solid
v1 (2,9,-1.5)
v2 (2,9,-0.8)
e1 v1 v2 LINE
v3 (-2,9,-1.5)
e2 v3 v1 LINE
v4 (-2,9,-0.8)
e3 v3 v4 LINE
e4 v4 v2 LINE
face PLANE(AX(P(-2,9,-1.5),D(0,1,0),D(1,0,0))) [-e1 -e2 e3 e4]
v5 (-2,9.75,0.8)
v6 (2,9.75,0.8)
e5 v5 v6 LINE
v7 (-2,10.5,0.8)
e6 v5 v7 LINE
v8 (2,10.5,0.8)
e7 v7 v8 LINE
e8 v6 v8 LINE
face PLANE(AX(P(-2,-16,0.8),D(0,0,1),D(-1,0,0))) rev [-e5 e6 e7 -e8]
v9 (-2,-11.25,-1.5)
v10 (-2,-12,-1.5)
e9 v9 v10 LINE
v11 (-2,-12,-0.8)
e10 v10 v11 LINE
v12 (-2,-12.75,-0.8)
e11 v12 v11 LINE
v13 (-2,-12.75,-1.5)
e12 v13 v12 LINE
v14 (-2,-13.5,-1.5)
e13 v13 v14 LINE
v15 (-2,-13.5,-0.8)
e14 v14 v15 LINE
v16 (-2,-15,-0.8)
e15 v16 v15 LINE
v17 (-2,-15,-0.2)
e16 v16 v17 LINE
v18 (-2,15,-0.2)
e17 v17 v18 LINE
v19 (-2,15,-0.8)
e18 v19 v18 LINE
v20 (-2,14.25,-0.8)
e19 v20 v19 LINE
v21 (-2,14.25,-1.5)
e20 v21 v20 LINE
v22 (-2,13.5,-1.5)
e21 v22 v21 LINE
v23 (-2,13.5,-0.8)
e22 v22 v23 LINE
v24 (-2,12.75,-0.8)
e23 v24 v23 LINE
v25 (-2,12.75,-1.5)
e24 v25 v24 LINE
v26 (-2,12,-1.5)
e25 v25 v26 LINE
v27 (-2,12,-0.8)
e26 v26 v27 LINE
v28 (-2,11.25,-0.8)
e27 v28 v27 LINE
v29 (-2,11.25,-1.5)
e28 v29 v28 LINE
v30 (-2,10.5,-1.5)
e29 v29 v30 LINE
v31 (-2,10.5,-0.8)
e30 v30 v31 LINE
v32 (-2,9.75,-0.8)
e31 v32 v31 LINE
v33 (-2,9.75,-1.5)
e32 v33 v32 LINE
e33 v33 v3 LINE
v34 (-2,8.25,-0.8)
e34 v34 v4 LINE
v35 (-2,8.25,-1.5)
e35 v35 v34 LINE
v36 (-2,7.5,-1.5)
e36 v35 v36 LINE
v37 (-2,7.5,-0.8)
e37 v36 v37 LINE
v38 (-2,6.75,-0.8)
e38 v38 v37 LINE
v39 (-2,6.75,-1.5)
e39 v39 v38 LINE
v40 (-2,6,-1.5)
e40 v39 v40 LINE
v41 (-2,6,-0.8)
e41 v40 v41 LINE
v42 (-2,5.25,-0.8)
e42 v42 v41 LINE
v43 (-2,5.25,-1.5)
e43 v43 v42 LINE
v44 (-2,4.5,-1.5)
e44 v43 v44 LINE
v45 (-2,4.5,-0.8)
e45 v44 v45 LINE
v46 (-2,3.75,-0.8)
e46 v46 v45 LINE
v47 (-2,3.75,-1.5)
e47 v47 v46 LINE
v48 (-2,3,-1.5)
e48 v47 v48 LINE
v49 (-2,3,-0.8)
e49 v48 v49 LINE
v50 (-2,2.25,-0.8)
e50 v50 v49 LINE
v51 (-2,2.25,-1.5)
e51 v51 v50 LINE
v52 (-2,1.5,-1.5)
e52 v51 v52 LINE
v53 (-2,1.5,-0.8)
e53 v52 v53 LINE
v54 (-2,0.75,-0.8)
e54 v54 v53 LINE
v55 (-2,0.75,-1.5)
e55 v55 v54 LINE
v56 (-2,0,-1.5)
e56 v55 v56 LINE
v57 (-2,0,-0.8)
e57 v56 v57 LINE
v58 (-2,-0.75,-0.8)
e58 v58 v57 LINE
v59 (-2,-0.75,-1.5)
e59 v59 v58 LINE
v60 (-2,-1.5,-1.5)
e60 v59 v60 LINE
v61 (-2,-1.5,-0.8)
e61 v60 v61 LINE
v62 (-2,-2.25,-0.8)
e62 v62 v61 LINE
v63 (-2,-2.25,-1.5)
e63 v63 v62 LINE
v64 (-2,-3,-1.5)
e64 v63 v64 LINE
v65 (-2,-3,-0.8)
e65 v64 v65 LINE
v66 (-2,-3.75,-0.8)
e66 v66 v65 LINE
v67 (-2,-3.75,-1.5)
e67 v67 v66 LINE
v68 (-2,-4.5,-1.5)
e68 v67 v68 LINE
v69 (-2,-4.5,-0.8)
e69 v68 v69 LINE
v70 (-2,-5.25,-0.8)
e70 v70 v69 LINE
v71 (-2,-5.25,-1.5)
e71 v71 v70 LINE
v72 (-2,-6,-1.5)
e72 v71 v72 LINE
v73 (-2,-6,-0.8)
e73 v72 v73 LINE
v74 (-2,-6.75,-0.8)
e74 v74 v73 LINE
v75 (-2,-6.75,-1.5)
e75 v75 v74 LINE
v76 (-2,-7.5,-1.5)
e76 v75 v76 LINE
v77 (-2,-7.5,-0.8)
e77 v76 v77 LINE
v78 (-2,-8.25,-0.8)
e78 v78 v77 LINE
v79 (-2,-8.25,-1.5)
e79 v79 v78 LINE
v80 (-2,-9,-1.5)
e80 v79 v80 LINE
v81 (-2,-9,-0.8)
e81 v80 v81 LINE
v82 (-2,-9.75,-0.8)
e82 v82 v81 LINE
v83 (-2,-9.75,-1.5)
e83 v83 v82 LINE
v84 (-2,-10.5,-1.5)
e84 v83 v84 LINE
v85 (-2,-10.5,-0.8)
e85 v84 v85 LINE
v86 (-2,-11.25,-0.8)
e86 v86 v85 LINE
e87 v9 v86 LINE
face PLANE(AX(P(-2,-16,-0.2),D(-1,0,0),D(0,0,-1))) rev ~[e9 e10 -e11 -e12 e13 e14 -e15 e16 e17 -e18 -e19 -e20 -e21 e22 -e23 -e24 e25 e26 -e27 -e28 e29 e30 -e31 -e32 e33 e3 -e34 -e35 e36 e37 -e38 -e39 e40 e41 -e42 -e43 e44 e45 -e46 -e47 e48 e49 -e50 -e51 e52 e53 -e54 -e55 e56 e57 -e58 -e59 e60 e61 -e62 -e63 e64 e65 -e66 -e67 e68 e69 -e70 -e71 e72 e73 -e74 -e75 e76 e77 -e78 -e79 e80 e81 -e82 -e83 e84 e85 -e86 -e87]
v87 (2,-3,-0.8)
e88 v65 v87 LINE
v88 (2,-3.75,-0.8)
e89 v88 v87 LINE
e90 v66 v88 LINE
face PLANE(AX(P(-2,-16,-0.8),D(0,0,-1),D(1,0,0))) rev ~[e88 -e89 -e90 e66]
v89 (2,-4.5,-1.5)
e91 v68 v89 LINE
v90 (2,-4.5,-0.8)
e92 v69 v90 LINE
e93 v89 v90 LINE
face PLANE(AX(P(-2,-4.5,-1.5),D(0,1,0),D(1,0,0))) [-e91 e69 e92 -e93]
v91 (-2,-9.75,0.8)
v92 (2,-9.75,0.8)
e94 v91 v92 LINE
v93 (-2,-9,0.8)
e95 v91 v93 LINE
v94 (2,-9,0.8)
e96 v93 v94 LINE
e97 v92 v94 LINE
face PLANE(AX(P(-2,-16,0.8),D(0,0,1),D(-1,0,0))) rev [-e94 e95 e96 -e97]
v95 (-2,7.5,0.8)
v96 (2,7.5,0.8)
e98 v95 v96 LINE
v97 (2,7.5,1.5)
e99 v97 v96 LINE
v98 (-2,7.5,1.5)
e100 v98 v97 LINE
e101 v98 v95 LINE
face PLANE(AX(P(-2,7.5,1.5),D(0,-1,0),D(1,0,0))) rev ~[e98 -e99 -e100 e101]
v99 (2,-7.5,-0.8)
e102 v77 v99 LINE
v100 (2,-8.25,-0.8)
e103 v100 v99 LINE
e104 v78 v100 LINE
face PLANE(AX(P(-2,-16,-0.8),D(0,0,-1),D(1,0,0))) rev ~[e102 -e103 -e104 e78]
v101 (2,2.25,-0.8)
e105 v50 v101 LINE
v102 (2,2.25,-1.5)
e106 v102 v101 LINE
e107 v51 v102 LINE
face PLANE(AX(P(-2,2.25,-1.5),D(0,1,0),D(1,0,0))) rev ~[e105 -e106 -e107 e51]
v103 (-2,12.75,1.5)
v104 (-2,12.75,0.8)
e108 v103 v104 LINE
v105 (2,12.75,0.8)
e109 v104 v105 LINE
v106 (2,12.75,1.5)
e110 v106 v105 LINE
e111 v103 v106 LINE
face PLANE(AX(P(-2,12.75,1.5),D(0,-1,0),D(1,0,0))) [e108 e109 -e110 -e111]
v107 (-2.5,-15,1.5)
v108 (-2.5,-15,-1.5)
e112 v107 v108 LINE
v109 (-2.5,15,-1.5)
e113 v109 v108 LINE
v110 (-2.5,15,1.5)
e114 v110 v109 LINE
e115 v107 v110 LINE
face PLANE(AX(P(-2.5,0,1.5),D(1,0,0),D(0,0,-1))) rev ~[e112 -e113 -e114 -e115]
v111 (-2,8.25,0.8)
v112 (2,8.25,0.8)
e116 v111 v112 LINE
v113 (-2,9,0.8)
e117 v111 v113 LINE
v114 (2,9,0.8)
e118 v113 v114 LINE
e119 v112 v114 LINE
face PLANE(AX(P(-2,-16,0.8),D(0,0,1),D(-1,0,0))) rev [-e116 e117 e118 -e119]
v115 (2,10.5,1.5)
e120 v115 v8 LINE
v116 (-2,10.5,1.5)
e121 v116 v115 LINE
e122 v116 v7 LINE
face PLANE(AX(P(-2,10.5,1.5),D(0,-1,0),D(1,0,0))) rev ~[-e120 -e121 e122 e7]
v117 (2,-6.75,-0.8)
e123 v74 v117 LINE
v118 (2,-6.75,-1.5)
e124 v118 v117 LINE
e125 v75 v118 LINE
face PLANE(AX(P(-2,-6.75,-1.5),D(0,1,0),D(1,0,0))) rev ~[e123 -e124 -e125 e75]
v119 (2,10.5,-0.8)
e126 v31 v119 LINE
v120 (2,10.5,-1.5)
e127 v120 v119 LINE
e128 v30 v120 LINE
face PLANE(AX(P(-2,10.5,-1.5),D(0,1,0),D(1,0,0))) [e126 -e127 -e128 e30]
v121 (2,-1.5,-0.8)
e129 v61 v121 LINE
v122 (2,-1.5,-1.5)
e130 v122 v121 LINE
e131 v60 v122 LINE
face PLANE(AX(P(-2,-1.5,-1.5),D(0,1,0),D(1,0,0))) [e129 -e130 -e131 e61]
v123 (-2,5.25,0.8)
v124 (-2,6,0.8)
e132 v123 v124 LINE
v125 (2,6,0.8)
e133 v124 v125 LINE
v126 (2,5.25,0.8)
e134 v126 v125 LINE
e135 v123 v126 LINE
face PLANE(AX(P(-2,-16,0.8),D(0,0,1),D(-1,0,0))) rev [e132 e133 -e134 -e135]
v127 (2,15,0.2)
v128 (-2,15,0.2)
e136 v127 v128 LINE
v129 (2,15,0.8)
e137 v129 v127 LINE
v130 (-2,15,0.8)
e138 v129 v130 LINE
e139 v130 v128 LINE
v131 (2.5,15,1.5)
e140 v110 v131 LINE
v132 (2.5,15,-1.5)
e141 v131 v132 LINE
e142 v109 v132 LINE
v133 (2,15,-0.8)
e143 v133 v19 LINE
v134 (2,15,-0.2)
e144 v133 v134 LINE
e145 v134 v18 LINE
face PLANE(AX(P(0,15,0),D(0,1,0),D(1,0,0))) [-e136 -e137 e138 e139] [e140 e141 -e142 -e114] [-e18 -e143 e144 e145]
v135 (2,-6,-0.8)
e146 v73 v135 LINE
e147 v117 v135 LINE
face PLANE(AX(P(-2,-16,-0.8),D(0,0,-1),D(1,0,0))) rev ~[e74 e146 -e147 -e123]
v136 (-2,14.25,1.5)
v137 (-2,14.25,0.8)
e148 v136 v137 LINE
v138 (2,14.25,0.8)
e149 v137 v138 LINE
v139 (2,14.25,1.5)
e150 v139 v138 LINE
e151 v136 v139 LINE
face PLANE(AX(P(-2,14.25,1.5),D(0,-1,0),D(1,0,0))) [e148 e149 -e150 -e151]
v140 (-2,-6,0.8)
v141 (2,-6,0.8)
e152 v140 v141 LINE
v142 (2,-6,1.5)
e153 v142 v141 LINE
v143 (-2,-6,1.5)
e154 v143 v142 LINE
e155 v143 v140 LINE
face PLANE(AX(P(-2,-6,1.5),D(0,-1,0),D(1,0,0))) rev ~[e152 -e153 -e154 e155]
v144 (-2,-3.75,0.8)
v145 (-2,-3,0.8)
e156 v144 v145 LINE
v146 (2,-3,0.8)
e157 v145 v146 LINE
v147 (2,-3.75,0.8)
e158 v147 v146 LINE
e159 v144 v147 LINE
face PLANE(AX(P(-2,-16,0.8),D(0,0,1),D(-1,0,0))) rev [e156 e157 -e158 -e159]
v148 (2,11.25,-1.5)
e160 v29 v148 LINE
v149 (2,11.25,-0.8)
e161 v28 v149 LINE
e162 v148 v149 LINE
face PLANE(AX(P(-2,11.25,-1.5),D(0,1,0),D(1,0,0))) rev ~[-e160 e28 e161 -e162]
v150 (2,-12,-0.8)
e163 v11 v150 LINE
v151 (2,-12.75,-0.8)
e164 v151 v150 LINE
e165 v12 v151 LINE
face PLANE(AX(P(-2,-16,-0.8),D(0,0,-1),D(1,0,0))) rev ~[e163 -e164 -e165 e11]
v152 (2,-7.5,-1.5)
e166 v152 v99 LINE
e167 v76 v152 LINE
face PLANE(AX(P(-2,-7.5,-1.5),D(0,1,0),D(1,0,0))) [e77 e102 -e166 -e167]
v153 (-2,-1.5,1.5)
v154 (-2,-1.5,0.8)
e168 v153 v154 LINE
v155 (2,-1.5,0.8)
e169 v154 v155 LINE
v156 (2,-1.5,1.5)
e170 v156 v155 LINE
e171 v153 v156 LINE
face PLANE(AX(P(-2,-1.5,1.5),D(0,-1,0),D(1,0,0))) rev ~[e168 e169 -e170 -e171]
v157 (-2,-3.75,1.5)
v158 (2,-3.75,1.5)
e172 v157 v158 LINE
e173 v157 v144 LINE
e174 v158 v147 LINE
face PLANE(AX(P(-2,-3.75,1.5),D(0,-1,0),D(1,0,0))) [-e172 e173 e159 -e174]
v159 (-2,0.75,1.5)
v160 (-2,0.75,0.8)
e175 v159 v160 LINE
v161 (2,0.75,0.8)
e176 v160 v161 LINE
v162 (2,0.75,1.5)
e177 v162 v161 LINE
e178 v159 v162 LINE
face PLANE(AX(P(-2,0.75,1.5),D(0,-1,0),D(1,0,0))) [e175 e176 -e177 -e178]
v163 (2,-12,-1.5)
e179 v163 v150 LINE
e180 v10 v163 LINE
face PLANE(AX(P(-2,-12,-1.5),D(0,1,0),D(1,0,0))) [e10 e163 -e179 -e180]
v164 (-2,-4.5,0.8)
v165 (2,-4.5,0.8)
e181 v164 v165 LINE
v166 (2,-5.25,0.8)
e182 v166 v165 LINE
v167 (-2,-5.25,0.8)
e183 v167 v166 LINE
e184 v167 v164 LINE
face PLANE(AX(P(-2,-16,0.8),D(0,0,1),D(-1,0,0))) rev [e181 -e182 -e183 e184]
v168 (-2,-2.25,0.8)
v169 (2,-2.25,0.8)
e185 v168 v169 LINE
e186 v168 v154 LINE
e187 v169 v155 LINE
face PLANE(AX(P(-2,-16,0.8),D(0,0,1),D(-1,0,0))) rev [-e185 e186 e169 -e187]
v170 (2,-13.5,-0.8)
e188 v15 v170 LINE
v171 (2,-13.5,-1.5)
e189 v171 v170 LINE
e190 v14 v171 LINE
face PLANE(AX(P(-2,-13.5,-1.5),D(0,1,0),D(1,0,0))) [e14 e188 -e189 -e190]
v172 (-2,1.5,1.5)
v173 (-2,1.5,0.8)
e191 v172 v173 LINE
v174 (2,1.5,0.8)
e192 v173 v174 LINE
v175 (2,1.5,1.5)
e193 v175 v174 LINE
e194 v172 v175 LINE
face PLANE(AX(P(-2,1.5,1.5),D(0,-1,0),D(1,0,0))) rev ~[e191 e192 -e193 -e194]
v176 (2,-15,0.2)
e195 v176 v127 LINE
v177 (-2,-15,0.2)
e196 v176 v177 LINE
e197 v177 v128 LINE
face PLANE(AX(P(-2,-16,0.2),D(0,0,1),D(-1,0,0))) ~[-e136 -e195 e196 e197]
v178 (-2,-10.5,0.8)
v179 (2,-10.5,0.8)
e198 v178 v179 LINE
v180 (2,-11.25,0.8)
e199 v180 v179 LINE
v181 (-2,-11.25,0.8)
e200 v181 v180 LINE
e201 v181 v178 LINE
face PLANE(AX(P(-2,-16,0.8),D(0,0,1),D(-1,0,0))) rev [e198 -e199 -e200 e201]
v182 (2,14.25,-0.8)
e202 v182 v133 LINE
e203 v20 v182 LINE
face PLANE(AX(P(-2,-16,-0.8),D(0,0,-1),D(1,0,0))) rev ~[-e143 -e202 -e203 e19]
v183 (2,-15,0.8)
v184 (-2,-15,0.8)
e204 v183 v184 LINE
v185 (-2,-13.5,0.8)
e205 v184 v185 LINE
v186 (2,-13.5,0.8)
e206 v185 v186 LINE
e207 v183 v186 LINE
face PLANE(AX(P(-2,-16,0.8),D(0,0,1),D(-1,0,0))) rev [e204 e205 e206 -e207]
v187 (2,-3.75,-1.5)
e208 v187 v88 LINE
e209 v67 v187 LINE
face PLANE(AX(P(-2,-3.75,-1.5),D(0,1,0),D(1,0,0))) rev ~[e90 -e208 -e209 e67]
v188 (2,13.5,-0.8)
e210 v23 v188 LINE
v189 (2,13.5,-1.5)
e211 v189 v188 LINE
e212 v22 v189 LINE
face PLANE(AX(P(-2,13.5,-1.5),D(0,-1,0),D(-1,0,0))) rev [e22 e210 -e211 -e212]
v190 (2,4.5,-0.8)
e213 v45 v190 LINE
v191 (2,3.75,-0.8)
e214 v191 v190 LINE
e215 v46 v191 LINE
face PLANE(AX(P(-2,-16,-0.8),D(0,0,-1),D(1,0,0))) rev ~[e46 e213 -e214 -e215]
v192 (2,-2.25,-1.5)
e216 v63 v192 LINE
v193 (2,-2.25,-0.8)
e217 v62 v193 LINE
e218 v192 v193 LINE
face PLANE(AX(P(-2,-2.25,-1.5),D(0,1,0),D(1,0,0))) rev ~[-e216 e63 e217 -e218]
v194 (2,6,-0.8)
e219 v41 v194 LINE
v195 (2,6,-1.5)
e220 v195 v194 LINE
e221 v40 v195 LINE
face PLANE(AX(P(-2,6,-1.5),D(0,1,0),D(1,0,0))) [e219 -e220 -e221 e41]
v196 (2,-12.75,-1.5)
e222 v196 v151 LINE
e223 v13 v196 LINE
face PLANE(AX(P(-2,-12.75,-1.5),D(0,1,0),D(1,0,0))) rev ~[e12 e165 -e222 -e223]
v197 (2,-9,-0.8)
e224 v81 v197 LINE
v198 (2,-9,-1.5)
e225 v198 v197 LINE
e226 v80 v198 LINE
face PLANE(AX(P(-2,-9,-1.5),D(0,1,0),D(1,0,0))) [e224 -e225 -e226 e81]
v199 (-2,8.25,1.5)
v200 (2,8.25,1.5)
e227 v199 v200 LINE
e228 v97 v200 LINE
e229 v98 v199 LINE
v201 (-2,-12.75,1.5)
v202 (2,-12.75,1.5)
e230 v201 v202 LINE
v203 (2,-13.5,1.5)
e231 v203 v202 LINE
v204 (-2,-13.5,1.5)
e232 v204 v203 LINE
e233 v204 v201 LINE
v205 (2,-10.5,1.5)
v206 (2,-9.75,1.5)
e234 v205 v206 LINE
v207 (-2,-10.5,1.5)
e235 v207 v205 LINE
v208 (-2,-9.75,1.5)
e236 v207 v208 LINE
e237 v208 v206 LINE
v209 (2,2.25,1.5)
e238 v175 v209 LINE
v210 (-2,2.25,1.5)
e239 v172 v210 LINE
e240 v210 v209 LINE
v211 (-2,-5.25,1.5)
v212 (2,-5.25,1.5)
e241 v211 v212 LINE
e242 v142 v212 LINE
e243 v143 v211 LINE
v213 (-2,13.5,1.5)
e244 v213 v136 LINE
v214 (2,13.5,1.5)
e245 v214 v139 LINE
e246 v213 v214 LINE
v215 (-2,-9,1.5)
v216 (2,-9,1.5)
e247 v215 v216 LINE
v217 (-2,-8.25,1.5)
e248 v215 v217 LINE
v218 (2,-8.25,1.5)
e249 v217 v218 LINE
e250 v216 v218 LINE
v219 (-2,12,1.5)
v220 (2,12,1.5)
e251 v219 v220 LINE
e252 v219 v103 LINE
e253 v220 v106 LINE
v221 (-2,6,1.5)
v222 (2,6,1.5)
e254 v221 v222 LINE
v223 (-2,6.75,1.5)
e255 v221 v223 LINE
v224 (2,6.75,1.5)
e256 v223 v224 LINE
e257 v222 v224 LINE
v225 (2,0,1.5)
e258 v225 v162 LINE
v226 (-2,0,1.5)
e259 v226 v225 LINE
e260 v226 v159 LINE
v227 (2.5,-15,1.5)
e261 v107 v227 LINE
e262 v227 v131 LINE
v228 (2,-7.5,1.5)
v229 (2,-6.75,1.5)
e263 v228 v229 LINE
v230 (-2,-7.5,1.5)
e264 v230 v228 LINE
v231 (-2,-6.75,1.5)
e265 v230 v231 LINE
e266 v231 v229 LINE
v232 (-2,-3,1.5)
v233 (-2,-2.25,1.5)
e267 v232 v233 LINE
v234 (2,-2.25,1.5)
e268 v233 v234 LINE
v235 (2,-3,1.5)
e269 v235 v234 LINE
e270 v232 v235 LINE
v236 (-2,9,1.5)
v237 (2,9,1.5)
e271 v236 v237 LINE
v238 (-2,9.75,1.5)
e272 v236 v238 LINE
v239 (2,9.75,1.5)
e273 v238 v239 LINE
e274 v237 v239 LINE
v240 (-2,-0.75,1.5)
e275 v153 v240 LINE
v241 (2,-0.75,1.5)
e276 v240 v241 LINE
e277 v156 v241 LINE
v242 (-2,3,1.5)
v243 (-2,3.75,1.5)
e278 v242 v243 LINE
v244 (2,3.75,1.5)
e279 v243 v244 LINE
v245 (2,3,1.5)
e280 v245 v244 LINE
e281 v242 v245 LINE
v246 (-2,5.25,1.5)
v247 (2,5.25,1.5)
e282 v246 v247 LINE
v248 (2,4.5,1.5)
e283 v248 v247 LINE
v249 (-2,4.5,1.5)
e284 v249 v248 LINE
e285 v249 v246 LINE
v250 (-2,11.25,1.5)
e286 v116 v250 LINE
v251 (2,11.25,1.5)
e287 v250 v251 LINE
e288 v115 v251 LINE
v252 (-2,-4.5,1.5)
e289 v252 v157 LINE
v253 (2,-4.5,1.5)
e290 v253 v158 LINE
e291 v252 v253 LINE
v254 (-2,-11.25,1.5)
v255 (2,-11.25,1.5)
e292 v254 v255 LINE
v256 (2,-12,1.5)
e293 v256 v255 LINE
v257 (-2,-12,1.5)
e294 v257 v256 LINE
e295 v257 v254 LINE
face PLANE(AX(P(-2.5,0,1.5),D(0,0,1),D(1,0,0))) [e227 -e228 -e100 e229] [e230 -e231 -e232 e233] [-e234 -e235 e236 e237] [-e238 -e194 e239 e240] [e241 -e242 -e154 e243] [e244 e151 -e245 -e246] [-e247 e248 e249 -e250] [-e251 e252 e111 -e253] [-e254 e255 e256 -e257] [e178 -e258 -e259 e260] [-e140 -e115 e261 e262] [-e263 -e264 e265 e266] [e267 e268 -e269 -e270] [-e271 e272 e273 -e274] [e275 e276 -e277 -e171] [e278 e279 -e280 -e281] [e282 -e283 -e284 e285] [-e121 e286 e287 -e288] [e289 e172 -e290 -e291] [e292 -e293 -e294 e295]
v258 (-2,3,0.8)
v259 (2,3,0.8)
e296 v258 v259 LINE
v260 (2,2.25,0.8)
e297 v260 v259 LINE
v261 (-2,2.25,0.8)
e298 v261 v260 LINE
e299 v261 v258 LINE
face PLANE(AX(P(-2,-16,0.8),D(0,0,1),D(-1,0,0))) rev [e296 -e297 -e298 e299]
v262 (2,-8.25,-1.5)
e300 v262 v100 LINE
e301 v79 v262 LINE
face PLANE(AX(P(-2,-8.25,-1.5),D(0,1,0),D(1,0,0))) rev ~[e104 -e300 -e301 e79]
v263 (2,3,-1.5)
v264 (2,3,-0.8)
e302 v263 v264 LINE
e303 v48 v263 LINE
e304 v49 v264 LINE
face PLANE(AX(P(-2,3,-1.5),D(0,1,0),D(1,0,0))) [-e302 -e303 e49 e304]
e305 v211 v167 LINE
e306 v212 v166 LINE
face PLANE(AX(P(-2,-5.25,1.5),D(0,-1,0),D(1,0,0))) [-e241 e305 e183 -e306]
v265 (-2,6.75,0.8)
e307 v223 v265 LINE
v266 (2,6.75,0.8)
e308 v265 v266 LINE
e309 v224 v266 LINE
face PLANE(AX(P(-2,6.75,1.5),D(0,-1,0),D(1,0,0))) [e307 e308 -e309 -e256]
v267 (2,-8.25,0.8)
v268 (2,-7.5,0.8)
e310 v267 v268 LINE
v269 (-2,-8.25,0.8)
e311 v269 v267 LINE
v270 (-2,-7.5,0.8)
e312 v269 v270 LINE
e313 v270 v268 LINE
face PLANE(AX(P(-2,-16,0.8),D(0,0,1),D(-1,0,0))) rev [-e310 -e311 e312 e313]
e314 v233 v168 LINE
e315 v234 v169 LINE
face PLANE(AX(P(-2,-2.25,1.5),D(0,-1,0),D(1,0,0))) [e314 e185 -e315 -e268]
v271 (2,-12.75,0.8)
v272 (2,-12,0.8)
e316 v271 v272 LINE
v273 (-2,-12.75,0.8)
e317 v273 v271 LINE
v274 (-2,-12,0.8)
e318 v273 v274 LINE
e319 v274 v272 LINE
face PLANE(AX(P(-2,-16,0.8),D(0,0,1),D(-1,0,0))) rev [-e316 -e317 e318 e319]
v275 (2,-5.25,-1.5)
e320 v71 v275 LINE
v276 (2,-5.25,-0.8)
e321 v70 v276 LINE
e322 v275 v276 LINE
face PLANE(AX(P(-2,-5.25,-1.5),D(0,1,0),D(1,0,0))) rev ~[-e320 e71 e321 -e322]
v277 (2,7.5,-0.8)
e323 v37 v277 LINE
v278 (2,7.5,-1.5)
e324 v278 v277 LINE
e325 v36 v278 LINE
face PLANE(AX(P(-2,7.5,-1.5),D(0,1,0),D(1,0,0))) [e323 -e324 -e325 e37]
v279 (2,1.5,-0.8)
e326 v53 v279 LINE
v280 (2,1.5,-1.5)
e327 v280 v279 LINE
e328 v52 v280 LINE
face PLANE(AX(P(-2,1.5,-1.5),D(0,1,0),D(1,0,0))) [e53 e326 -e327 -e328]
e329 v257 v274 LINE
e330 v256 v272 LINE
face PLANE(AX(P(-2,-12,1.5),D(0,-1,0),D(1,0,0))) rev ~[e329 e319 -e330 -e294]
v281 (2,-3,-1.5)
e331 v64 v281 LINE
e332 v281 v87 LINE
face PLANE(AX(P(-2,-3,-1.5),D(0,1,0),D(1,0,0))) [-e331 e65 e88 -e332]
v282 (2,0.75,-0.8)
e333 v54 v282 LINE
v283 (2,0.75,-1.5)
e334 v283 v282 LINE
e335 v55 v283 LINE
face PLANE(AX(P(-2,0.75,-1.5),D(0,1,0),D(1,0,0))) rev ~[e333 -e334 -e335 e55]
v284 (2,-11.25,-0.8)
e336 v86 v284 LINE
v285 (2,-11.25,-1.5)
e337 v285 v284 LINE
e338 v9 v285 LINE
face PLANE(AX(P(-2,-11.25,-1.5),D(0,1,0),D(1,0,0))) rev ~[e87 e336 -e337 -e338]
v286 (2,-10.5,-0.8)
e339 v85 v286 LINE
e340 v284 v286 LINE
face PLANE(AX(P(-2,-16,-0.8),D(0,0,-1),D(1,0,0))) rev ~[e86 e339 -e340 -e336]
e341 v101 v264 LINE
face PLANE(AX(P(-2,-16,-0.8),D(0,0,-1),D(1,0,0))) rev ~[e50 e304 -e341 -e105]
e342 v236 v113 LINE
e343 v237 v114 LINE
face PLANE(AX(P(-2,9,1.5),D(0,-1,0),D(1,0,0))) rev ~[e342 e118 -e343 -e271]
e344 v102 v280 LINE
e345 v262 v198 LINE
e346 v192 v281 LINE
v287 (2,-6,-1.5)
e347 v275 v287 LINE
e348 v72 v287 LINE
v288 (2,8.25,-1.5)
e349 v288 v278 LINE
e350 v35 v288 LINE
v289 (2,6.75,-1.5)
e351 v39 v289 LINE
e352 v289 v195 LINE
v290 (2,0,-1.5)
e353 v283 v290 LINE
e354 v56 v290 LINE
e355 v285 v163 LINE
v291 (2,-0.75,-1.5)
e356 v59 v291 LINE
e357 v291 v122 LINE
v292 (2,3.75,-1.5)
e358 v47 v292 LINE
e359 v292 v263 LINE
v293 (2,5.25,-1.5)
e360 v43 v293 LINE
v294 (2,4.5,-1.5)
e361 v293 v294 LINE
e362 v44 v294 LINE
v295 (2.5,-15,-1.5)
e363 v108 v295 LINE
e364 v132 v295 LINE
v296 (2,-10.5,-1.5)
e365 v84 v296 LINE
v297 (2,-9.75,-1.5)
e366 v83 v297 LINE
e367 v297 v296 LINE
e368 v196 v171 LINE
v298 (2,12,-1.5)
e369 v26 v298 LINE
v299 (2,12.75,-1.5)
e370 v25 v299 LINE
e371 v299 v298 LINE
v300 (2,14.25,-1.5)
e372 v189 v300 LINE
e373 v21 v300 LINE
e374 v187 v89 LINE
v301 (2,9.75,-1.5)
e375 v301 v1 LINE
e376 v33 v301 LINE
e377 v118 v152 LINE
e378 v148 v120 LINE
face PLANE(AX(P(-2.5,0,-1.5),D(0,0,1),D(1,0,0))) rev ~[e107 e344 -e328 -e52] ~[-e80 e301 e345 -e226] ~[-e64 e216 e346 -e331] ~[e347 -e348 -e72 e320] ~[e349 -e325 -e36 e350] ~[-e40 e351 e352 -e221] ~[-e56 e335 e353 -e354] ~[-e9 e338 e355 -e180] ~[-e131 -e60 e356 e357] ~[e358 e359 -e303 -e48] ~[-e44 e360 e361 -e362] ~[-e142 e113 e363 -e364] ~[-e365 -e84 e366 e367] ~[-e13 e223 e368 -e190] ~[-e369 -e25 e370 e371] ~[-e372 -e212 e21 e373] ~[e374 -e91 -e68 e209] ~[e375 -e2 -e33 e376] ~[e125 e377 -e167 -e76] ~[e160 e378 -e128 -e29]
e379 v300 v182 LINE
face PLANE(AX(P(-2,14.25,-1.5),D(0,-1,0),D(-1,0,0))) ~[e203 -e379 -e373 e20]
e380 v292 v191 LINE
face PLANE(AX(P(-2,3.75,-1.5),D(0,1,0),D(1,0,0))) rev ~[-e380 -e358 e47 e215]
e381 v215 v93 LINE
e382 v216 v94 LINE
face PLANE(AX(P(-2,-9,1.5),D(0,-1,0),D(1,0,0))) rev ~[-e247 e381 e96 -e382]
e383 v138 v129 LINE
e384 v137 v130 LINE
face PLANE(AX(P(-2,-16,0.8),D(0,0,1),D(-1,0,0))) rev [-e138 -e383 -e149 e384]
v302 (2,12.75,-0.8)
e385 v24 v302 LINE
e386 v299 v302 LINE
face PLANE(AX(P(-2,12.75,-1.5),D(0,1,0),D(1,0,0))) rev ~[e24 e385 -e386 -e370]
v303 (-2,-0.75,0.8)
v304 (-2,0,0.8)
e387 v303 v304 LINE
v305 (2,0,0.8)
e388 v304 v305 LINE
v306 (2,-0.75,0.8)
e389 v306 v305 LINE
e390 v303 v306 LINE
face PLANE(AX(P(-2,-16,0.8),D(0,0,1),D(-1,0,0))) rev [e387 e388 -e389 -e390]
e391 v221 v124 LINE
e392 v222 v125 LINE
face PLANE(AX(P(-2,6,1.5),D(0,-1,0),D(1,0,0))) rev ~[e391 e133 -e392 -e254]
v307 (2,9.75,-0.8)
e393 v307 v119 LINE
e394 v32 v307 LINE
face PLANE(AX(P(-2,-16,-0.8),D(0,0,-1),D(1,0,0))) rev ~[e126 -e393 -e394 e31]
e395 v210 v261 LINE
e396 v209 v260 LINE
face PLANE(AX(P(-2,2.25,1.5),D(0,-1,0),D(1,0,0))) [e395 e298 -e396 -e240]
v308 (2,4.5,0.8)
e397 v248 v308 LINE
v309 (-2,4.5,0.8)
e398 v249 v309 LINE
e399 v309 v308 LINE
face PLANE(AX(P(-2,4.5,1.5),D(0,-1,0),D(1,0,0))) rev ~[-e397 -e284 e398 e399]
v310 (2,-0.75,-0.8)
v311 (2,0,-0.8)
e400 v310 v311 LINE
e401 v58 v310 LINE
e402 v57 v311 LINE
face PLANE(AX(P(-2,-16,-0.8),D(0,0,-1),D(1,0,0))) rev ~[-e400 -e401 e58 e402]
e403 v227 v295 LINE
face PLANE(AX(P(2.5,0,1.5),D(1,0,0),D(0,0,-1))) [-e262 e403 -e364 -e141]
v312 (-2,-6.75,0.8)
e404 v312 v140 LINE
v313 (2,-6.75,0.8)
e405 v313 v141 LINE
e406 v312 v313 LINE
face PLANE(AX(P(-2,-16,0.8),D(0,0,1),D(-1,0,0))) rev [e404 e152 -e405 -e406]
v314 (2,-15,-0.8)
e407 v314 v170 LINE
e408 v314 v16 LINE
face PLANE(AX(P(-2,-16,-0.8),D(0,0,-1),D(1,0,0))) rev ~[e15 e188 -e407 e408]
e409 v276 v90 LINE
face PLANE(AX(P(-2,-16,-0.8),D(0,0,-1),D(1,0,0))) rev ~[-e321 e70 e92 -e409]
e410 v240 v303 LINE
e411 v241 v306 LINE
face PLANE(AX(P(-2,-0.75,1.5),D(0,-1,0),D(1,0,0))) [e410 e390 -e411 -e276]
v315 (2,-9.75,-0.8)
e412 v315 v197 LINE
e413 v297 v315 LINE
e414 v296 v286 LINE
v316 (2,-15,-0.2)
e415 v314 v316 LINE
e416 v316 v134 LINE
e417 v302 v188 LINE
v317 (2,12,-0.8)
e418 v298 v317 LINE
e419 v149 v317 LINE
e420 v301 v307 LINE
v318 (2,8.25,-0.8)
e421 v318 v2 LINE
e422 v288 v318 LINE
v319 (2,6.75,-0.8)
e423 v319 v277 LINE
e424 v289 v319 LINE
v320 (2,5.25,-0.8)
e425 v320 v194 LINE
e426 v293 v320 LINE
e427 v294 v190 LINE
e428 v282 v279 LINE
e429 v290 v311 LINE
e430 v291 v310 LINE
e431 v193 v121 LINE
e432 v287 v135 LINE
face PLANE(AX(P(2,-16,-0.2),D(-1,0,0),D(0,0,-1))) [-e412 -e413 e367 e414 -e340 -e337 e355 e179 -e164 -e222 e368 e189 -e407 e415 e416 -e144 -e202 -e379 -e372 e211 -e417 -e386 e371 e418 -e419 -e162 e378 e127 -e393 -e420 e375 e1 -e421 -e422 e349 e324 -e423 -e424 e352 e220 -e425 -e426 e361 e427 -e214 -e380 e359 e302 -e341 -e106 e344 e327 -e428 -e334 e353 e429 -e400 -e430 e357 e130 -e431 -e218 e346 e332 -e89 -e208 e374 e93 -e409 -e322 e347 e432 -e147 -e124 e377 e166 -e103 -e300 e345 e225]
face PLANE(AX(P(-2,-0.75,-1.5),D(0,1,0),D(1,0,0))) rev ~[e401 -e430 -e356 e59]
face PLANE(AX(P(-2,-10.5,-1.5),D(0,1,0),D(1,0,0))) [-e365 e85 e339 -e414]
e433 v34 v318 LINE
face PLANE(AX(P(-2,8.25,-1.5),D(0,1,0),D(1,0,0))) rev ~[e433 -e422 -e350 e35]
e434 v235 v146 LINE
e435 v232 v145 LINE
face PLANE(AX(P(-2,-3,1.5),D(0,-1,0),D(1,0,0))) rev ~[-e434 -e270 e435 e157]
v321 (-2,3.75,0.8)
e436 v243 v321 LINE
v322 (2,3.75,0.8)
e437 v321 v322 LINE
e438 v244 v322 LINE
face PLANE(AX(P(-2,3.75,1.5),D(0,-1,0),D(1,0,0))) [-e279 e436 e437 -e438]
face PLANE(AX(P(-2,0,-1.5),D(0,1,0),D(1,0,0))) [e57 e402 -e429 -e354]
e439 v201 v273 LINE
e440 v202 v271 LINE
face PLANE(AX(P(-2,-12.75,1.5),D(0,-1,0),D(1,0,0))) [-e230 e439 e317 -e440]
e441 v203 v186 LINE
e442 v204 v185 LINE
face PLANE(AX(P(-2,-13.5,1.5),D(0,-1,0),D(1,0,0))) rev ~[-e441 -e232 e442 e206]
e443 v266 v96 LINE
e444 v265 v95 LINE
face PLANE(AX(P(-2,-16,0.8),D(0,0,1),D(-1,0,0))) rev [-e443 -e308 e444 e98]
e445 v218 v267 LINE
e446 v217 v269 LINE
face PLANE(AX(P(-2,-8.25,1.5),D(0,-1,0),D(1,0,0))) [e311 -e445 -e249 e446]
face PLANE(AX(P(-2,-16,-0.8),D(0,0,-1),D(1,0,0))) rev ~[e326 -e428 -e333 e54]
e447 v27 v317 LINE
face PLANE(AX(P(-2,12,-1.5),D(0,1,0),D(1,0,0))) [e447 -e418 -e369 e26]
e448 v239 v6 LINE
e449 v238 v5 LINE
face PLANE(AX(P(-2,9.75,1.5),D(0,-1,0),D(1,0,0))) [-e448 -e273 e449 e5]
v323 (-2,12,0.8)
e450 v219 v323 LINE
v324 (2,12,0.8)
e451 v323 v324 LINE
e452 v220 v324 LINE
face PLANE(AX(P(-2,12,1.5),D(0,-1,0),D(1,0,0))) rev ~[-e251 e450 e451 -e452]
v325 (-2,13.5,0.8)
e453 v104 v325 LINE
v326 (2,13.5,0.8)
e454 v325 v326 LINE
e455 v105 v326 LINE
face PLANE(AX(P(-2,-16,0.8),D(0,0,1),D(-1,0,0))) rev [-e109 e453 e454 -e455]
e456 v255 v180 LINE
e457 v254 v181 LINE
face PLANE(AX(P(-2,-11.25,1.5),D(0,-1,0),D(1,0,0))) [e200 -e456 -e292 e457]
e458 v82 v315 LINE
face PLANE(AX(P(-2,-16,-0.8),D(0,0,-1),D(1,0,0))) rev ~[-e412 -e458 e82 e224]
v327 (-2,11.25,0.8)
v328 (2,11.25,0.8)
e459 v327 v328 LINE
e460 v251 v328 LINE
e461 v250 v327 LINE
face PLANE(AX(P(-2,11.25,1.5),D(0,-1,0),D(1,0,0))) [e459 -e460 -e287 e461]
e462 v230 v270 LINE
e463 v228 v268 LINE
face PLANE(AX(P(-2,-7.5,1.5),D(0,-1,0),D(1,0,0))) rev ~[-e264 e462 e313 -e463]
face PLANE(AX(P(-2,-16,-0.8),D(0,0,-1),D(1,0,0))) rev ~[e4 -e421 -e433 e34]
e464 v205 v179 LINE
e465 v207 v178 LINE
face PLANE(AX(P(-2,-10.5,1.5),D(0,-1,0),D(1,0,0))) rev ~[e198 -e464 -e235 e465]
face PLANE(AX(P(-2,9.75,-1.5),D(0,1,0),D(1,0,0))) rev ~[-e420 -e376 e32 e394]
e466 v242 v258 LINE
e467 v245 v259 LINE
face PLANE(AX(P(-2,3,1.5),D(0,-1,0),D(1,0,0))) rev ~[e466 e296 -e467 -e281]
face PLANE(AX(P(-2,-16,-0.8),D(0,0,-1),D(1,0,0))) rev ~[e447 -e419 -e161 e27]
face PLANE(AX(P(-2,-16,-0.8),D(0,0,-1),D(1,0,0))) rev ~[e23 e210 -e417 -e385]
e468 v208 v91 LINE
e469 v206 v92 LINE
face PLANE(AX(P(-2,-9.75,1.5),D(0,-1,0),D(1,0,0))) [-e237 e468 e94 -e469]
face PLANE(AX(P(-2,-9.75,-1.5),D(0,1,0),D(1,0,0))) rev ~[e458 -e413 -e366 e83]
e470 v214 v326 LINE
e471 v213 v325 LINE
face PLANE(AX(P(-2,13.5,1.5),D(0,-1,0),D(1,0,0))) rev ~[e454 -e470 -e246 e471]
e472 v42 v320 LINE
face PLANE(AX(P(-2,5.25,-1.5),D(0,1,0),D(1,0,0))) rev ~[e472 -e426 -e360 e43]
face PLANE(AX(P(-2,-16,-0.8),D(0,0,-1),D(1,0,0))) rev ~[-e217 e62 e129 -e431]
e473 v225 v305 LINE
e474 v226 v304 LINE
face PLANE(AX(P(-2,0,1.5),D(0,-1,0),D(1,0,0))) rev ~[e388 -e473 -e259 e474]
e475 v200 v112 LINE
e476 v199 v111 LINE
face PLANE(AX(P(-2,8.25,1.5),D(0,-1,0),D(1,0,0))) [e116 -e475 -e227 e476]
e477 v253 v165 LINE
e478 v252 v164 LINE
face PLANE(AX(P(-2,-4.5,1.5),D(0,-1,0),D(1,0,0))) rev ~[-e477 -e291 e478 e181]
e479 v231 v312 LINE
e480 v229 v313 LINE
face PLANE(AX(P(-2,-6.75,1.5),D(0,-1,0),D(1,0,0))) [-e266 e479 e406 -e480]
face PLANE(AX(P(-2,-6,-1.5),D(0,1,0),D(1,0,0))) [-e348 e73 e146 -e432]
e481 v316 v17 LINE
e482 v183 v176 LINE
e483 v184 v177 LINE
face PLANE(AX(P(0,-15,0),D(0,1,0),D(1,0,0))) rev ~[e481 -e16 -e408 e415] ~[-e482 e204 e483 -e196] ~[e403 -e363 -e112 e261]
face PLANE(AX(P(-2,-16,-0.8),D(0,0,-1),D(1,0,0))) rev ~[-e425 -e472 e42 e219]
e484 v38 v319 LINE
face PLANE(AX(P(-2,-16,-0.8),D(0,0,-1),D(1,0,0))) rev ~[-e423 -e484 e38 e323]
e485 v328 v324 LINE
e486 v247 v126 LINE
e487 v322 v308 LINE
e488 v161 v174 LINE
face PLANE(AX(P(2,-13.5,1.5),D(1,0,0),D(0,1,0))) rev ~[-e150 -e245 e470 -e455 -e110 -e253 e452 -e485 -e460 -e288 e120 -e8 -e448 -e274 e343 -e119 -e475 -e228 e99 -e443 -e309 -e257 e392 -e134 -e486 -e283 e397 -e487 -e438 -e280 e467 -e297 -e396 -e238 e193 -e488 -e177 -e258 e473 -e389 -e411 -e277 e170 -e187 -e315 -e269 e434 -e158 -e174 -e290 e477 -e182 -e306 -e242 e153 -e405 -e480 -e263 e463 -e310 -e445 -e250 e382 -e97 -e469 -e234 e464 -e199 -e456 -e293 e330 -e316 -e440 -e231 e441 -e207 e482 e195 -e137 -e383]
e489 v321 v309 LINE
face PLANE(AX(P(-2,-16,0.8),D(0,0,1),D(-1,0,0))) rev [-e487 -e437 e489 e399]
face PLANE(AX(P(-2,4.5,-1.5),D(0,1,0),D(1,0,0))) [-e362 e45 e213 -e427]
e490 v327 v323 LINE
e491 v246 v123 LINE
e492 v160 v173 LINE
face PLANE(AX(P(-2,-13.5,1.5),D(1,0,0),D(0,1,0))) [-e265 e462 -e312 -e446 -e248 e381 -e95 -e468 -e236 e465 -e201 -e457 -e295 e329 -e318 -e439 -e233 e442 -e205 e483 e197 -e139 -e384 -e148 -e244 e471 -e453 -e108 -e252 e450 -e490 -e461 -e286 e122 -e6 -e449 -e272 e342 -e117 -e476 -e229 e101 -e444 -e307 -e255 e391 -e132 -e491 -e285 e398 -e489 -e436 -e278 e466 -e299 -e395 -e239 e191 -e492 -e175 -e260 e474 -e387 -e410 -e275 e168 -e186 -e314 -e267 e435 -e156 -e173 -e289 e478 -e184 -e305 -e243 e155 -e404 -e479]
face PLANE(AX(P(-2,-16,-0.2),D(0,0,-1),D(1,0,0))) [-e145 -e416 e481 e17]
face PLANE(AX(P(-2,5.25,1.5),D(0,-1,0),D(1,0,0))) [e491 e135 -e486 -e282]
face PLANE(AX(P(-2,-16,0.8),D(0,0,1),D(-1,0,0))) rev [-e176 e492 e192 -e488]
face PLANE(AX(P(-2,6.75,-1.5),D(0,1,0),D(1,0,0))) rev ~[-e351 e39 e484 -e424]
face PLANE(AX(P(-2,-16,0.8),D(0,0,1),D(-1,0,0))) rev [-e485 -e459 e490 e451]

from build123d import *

# Parameters (mm, degrees)
SKETCH1_W                = 5
SKETCH1_H                = 3
BOSS_EXTRUDE1_DEPTH      = 15
CUT_EXTRUDE1_START       = -31
SKETCH2_W                = 4
SKETCH2_H                = 0.6
CUT_EXTRUDE1_DEPTH       = 32
SKETCH3_W                = 4
SKETCH3_H                = 0.75
CUT_EXTRUDE2_DEPTH       = 0.7
LPATTERN1_COUNT          = 19
LPATTERN1_PITCH          = 1.5
MIRROR2_COPY_1_SKETCH_W  = 4
MIRROR2_COPY_1_SKETCH_H  = 0.75
MIRROR2_COPY_1_DEPTH     = 0.7
MIRROR2_COPY_2_SKETCH_W  = 4
MIRROR2_COPY_2_SKETCH_H  = 0.75
MIRROR2_COPY_2_DEPTH     = 0.7
MIRROR2_COPY_3_SKETCH_W  = 4
MIRROR2_COPY_3_SKETCH_H  = 0.75
MIRROR2_COPY_3_DEPTH     = 0.7
MIRROR2_COPY_4_SKETCH_W  = 4
MIRROR2_COPY_4_SKETCH_H  = 0.75
MIRROR2_COPY_4_DEPTH     = 0.7
MIRROR2_COPY_5_SKETCH_W  = 4
MIRROR2_COPY_5_SKETCH_H  = 0.75
MIRROR2_COPY_5_DEPTH     = 0.7
MIRROR2_COPY_6_SKETCH_W  = 4
MIRROR2_COPY_6_SKETCH_H  = 0.75
MIRROR2_COPY_6_DEPTH     = 0.7
MIRROR2_COPY_7_SKETCH_W  = 4
MIRROR2_COPY_7_SKETCH_H  = 0.75
MIRROR2_COPY_7_DEPTH     = 0.7
MIRROR2_COPY_8_SKETCH_W  = 4
MIRROR2_COPY_8_SKETCH_H  = 0.75
MIRROR2_COPY_8_DEPTH     = 0.7
MIRROR2_COPY_9_SKETCH_W  = 4
MIRROR2_COPY_9_SKETCH_H  = 0.75
MIRROR2_COPY_9_DEPTH     = 0.7
MIRROR2_COPY_10_SKETCH_W = 4
MIRROR2_COPY_10_SKETCH_H = 0.75
MIRROR2_COPY_10_DEPTH    = 0.7
MIRROR2_COPY_11_SKETCH_W = 4
MIRROR2_COPY_11_SKETCH_H = 0.75
MIRROR2_COPY_11_DEPTH    = 0.7
MIRROR2_COPY_12_SKETCH_W = 4
MIRROR2_COPY_12_SKETCH_H = 0.75
MIRROR2_COPY_12_DEPTH    = 0.7
MIRROR2_COPY_13_SKETCH_W = 4
MIRROR2_COPY_13_SKETCH_H = 0.75
MIRROR2_COPY_13_DEPTH    = 0.7
MIRROR2_COPY_14_SKETCH_W = 4
MIRROR2_COPY_14_SKETCH_H = 0.75
MIRROR2_COPY_14_DEPTH    = 0.7
MIRROR2_COPY_15_SKETCH_W = 4
MIRROR2_COPY_15_SKETCH_H = 0.75
MIRROR2_COPY_15_DEPTH    = 0.7
MIRROR2_COPY_16_SKETCH_W = 4
MIRROR2_COPY_16_SKETCH_H = 0.75
MIRROR2_COPY_16_DEPTH    = 0.7
MIRROR2_COPY_17_SKETCH_W = 4
MIRROR2_COPY_17_SKETCH_H = 0.75
MIRROR2_COPY_17_DEPTH    = 0.7
MIRROR2_COPY_18_SKETCH_W = 4
MIRROR2_COPY_18_SKETCH_H = 0.75
MIRROR2_COPY_18_DEPTH    = 0.7


with BuildPart() as part:
    # Sketch1 → Boss-Extrude1 (new body, symmetric)
    with BuildSketch(Plane(origin=(0, 0, 0), x_dir=(1, 0, 0), z_dir=(0, 1, 0))):
        Rectangle(SKETCH1_W, SKETCH1_H)
    extrude(amount=BOSS_EXTRUDE1_DEPTH, both=True)

    # Sketch2 → Cut-Extrude1 (cut)
    with BuildSketch(Plane(origin=(0, 15, 0), x_dir=(1, 0, 0), z_dir=(0, 1, 0)).offset(CUT_EXTRUDE1_START)):
        with Locations((0, 0.5)):
            Rectangle(SKETCH2_W, SKETCH2_H)
    cut_extrude1 = extrude(amount=CUT_EXTRUDE1_DEPTH, mode=Mode.SUBTRACT)

    # Mirror1: Cut-Extrude1 across plane
    add(cut_extrude1.mirror(Plane.XY), mode=Mode.SUBTRACT)

    # Sketch3 → Cut-Extrude2 (cut)
    with BuildSketch(Plane.XY.offset(1.5)):
        with Locations((0, 13.875)):
            Rectangle(SKETCH3_W, SKETCH3_H)
    cut_extrude2 = extrude(amount=-CUT_EXTRUDE2_DEPTH, mode=Mode.SUBTRACT)

    # LPattern1: Cut-Extrude2 ×19
    with Locations(*[(0, -i * LPATTERN1_PITCH, 0) for i in range(1, LPATTERN1_COUNT)]):
        add(cut_extrude2, mode=Mode.SUBTRACT)

    # Mirror2: Cut-Extrude2 across plane
    add(cut_extrude2.mirror(Plane.XY), mode=Mode.SUBTRACT)

    # Mirror2 copy 1 sketch → Mirror2 copy 1 (cut)
    with BuildSketch(Plane(origin=(0, -1.5, -1.5), x_dir=(1, 0, 0), z_dir=(0, 0, -1))):
        with Locations((0, -13.875)):
            Rectangle(MIRROR2_COPY_1_SKETCH_W, MIRROR2_COPY_1_SKETCH_H)
    extrude(amount=-MIRROR2_COPY_1_DEPTH, mode=Mode.SUBTRACT)

    # Mirror2 copy 2 sketch → Mirror2 copy 2 (cut)
    with BuildSketch(Plane(origin=(0, -3, -1.5), x_dir=(1, 0, 0), z_dir=(0, 0, -1))):
        with Locations((0, -13.875)):
            Rectangle(MIRROR2_COPY_2_SKETCH_W, MIRROR2_COPY_2_SKETCH_H)
    extrude(amount=-MIRROR2_COPY_2_DEPTH, mode=Mode.SUBTRACT)

    # Mirror2 copy 3 sketch → Mirror2 copy 3 (cut)
    with BuildSketch(Plane(origin=(0, -4.5, -1.5), x_dir=(1, 0, 0), z_dir=(0, 0, -1))):
        with Locations((0, -13.875)):
            Rectangle(MIRROR2_COPY_3_SKETCH_W, MIRROR2_COPY_3_SKETCH_H)
    extrude(amount=-MIRROR2_COPY_3_DEPTH, mode=Mode.SUBTRACT)

    # Mirror2 copy 4 sketch → Mirror2 copy 4 (cut)
    with BuildSketch(Plane(origin=(0, -6, -1.5), x_dir=(1, 0, 0), z_dir=(0, 0, -1))):
        with Locations((0, -13.875)):
            Rectangle(MIRROR2_COPY_4_SKETCH_W, MIRROR2_COPY_4_SKETCH_H)
    extrude(amount=-MIRROR2_COPY_4_DEPTH, mode=Mode.SUBTRACT)

    # Mirror2 copy 5 sketch → Mirror2 copy 5 (cut)
    with BuildSketch(Plane(origin=(0, -7.5, -1.5), x_dir=(1, 0, 0), z_dir=(0, 0, -1))):
        with Locations((0, -13.875)):
            Rectangle(MIRROR2_COPY_5_SKETCH_W, MIRROR2_COPY_5_SKETCH_H)
    extrude(amount=-MIRROR2_COPY_5_DEPTH, mode=Mode.SUBTRACT)

    # Mirror2 copy 6 sketch → Mirror2 copy 6 (cut)
    with BuildSketch(Plane(origin=(0, -9, -1.5), x_dir=(1, 0, 0), z_dir=(0, 0, -1))):
        with Locations((0, -13.875)):
            Rectangle(MIRROR2_COPY_6_SKETCH_W, MIRROR2_COPY_6_SKETCH_H)
    extrude(amount=-MIRROR2_COPY_6_DEPTH, mode=Mode.SUBTRACT)

    # Mirror2 copy 7 sketch → Mirror2 copy 7 (cut)
    with BuildSketch(Plane(origin=(0, -10.5, -1.5), x_dir=(1, 0, 0), z_dir=(0, 0, -1))):
        with Locations((0, -13.875)):
            Rectangle(MIRROR2_COPY_7_SKETCH_W, MIRROR2_COPY_7_SKETCH_H)
    extrude(amount=-MIRROR2_COPY_7_DEPTH, mode=Mode.SUBTRACT)

    # Mirror2 copy 8 sketch → Mirror2 copy 8 (cut)
    with BuildSketch(Plane(origin=(0, -12, -1.5), x_dir=(1, 0, 0), z_dir=(0, 0, -1))):
        with Locations((0, -13.875)):
            Rectangle(MIRROR2_COPY_8_SKETCH_W, MIRROR2_COPY_8_SKETCH_H)
    extrude(amount=-MIRROR2_COPY_8_DEPTH, mode=Mode.SUBTRACT)

    # Mirror2 copy 9 sketch → Mirror2 copy 9 (cut)
    with BuildSketch(Plane(origin=(0, -13.5, -1.5), x_dir=(1, 0, 0), z_dir=(0, 0, -1))):
        with Locations((0, -13.875)):
            Rectangle(MIRROR2_COPY_9_SKETCH_W, MIRROR2_COPY_9_SKETCH_H)
    extrude(amount=-MIRROR2_COPY_9_DEPTH, mode=Mode.SUBTRACT)

    # Mirror2 copy 10 sketch → Mirror2 copy 10 (cut)
    with BuildSketch(Plane(origin=(0, -15, -1.5), x_dir=(1, 0, 0), z_dir=(0, 0, -1))):
        with Locations((0, -13.875)):
            Rectangle(MIRROR2_COPY_10_SKETCH_W, MIRROR2_COPY_10_SKETCH_H)
    extrude(amount=-MIRROR2_COPY_10_DEPTH, mode=Mode.SUBTRACT)

    # Mirror2 copy 11 sketch → Mirror2 copy 11 (cut)
    with BuildSketch(Plane(origin=(0, -16.5, -1.5), x_dir=(1, 0, 0), z_dir=(0, 0, -1))):
        with Locations((0, -13.875)):
            Rectangle(MIRROR2_COPY_11_SKETCH_W, MIRROR2_COPY_11_SKETCH_H)
    extrude(amount=-MIRROR2_COPY_11_DEPTH, mode=Mode.SUBTRACT)

    # Mirror2 copy 12 sketch → Mirror2 copy 12 (cut)
    with BuildSketch(Plane(origin=(0, -18, -1.5), x_dir=(1, 0, 0), z_dir=(0, 0, -1))):
        with Locations((0, -13.875)):
            Rectangle(MIRROR2_COPY_12_SKETCH_W, MIRROR2_COPY_12_SKETCH_H)
    extrude(amount=-MIRROR2_COPY_12_DEPTH, mode=Mode.SUBTRACT)

    # Mirror2 copy 13 sketch → Mirror2 copy 13 (cut)
    with BuildSketch(Plane(origin=(0, -19.5, -1.5), x_dir=(1, 0, 0), z_dir=(0, 0, -1))):
        with Locations((0, -13.875)):
            Rectangle(MIRROR2_COPY_13_SKETCH_W, MIRROR2_COPY_13_SKETCH_H)
    extrude(amount=-MIRROR2_COPY_13_DEPTH, mode=Mode.SUBTRACT)

    # Mirror2 copy 14 sketch → Mirror2 copy 14 (cut)
    with BuildSketch(Plane(origin=(0, -21, -1.5), x_dir=(1, 0, 0), z_dir=(0, 0, -1))):
        with Locations((0, -13.875)):
            Rectangle(MIRROR2_COPY_14_SKETCH_W, MIRROR2_COPY_14_SKETCH_H)
    extrude(amount=-MIRROR2_COPY_14_DEPTH, mode=Mode.SUBTRACT)

    # Mirror2 copy 15 sketch → Mirror2 copy 15 (cut)
    with BuildSketch(Plane(origin=(0, -22.5, -1.5), x_dir=(1, 0, 0), z_dir=(0, 0, -1))):
        with Locations((0, -13.875)):
            Rectangle(MIRROR2_COPY_15_SKETCH_W, MIRROR2_COPY_15_SKETCH_H)
    extrude(amount=-MIRROR2_COPY_15_DEPTH, mode=Mode.SUBTRACT)

    # Mirror2 copy 16 sketch → Mirror2 copy 16 (cut)
    with BuildSketch(Plane(origin=(0, -24, -1.5), x_dir=(1, 0, 0), z_dir=(0, 0, -1))):
        with Locations((0, -13.875)):
            Rectangle(MIRROR2_COPY_16_SKETCH_W, MIRROR2_COPY_16_SKETCH_H)
    extrude(amount=-MIRROR2_COPY_16_DEPTH, mode=Mode.SUBTRACT)

    # Mirror2 copy 17 sketch → Mirror2 copy 17 (cut)
    with BuildSketch(Plane(origin=(0, -25.5, -1.5), x_dir=(1, 0, 0), z_dir=(0, 0, -1))):
        with Locations((0, -13.875)):
            Rectangle(MIRROR2_COPY_17_SKETCH_W, MIRROR2_COPY_17_SKETCH_H)
    extrude(amount=-MIRROR2_COPY_17_DEPTH, mode=Mode.SUBTRACT)

    # Mirror2 copy 18 sketch → Mirror2 copy 18 (cut)
    with BuildSketch(Plane(origin=(0, -27, -1.5), x_dir=(1, 0, 0), z_dir=(0, 0, -1))):
        with Locations((0, -13.875)):
            Rectangle(MIRROR2_COPY_18_SKETCH_W, MIRROR2_COPY_18_SKETCH_H)
    extrude(amount=-MIRROR2_COPY_18_DEPTH, mode=Mode.SUBTRACT)


solid = part.part
